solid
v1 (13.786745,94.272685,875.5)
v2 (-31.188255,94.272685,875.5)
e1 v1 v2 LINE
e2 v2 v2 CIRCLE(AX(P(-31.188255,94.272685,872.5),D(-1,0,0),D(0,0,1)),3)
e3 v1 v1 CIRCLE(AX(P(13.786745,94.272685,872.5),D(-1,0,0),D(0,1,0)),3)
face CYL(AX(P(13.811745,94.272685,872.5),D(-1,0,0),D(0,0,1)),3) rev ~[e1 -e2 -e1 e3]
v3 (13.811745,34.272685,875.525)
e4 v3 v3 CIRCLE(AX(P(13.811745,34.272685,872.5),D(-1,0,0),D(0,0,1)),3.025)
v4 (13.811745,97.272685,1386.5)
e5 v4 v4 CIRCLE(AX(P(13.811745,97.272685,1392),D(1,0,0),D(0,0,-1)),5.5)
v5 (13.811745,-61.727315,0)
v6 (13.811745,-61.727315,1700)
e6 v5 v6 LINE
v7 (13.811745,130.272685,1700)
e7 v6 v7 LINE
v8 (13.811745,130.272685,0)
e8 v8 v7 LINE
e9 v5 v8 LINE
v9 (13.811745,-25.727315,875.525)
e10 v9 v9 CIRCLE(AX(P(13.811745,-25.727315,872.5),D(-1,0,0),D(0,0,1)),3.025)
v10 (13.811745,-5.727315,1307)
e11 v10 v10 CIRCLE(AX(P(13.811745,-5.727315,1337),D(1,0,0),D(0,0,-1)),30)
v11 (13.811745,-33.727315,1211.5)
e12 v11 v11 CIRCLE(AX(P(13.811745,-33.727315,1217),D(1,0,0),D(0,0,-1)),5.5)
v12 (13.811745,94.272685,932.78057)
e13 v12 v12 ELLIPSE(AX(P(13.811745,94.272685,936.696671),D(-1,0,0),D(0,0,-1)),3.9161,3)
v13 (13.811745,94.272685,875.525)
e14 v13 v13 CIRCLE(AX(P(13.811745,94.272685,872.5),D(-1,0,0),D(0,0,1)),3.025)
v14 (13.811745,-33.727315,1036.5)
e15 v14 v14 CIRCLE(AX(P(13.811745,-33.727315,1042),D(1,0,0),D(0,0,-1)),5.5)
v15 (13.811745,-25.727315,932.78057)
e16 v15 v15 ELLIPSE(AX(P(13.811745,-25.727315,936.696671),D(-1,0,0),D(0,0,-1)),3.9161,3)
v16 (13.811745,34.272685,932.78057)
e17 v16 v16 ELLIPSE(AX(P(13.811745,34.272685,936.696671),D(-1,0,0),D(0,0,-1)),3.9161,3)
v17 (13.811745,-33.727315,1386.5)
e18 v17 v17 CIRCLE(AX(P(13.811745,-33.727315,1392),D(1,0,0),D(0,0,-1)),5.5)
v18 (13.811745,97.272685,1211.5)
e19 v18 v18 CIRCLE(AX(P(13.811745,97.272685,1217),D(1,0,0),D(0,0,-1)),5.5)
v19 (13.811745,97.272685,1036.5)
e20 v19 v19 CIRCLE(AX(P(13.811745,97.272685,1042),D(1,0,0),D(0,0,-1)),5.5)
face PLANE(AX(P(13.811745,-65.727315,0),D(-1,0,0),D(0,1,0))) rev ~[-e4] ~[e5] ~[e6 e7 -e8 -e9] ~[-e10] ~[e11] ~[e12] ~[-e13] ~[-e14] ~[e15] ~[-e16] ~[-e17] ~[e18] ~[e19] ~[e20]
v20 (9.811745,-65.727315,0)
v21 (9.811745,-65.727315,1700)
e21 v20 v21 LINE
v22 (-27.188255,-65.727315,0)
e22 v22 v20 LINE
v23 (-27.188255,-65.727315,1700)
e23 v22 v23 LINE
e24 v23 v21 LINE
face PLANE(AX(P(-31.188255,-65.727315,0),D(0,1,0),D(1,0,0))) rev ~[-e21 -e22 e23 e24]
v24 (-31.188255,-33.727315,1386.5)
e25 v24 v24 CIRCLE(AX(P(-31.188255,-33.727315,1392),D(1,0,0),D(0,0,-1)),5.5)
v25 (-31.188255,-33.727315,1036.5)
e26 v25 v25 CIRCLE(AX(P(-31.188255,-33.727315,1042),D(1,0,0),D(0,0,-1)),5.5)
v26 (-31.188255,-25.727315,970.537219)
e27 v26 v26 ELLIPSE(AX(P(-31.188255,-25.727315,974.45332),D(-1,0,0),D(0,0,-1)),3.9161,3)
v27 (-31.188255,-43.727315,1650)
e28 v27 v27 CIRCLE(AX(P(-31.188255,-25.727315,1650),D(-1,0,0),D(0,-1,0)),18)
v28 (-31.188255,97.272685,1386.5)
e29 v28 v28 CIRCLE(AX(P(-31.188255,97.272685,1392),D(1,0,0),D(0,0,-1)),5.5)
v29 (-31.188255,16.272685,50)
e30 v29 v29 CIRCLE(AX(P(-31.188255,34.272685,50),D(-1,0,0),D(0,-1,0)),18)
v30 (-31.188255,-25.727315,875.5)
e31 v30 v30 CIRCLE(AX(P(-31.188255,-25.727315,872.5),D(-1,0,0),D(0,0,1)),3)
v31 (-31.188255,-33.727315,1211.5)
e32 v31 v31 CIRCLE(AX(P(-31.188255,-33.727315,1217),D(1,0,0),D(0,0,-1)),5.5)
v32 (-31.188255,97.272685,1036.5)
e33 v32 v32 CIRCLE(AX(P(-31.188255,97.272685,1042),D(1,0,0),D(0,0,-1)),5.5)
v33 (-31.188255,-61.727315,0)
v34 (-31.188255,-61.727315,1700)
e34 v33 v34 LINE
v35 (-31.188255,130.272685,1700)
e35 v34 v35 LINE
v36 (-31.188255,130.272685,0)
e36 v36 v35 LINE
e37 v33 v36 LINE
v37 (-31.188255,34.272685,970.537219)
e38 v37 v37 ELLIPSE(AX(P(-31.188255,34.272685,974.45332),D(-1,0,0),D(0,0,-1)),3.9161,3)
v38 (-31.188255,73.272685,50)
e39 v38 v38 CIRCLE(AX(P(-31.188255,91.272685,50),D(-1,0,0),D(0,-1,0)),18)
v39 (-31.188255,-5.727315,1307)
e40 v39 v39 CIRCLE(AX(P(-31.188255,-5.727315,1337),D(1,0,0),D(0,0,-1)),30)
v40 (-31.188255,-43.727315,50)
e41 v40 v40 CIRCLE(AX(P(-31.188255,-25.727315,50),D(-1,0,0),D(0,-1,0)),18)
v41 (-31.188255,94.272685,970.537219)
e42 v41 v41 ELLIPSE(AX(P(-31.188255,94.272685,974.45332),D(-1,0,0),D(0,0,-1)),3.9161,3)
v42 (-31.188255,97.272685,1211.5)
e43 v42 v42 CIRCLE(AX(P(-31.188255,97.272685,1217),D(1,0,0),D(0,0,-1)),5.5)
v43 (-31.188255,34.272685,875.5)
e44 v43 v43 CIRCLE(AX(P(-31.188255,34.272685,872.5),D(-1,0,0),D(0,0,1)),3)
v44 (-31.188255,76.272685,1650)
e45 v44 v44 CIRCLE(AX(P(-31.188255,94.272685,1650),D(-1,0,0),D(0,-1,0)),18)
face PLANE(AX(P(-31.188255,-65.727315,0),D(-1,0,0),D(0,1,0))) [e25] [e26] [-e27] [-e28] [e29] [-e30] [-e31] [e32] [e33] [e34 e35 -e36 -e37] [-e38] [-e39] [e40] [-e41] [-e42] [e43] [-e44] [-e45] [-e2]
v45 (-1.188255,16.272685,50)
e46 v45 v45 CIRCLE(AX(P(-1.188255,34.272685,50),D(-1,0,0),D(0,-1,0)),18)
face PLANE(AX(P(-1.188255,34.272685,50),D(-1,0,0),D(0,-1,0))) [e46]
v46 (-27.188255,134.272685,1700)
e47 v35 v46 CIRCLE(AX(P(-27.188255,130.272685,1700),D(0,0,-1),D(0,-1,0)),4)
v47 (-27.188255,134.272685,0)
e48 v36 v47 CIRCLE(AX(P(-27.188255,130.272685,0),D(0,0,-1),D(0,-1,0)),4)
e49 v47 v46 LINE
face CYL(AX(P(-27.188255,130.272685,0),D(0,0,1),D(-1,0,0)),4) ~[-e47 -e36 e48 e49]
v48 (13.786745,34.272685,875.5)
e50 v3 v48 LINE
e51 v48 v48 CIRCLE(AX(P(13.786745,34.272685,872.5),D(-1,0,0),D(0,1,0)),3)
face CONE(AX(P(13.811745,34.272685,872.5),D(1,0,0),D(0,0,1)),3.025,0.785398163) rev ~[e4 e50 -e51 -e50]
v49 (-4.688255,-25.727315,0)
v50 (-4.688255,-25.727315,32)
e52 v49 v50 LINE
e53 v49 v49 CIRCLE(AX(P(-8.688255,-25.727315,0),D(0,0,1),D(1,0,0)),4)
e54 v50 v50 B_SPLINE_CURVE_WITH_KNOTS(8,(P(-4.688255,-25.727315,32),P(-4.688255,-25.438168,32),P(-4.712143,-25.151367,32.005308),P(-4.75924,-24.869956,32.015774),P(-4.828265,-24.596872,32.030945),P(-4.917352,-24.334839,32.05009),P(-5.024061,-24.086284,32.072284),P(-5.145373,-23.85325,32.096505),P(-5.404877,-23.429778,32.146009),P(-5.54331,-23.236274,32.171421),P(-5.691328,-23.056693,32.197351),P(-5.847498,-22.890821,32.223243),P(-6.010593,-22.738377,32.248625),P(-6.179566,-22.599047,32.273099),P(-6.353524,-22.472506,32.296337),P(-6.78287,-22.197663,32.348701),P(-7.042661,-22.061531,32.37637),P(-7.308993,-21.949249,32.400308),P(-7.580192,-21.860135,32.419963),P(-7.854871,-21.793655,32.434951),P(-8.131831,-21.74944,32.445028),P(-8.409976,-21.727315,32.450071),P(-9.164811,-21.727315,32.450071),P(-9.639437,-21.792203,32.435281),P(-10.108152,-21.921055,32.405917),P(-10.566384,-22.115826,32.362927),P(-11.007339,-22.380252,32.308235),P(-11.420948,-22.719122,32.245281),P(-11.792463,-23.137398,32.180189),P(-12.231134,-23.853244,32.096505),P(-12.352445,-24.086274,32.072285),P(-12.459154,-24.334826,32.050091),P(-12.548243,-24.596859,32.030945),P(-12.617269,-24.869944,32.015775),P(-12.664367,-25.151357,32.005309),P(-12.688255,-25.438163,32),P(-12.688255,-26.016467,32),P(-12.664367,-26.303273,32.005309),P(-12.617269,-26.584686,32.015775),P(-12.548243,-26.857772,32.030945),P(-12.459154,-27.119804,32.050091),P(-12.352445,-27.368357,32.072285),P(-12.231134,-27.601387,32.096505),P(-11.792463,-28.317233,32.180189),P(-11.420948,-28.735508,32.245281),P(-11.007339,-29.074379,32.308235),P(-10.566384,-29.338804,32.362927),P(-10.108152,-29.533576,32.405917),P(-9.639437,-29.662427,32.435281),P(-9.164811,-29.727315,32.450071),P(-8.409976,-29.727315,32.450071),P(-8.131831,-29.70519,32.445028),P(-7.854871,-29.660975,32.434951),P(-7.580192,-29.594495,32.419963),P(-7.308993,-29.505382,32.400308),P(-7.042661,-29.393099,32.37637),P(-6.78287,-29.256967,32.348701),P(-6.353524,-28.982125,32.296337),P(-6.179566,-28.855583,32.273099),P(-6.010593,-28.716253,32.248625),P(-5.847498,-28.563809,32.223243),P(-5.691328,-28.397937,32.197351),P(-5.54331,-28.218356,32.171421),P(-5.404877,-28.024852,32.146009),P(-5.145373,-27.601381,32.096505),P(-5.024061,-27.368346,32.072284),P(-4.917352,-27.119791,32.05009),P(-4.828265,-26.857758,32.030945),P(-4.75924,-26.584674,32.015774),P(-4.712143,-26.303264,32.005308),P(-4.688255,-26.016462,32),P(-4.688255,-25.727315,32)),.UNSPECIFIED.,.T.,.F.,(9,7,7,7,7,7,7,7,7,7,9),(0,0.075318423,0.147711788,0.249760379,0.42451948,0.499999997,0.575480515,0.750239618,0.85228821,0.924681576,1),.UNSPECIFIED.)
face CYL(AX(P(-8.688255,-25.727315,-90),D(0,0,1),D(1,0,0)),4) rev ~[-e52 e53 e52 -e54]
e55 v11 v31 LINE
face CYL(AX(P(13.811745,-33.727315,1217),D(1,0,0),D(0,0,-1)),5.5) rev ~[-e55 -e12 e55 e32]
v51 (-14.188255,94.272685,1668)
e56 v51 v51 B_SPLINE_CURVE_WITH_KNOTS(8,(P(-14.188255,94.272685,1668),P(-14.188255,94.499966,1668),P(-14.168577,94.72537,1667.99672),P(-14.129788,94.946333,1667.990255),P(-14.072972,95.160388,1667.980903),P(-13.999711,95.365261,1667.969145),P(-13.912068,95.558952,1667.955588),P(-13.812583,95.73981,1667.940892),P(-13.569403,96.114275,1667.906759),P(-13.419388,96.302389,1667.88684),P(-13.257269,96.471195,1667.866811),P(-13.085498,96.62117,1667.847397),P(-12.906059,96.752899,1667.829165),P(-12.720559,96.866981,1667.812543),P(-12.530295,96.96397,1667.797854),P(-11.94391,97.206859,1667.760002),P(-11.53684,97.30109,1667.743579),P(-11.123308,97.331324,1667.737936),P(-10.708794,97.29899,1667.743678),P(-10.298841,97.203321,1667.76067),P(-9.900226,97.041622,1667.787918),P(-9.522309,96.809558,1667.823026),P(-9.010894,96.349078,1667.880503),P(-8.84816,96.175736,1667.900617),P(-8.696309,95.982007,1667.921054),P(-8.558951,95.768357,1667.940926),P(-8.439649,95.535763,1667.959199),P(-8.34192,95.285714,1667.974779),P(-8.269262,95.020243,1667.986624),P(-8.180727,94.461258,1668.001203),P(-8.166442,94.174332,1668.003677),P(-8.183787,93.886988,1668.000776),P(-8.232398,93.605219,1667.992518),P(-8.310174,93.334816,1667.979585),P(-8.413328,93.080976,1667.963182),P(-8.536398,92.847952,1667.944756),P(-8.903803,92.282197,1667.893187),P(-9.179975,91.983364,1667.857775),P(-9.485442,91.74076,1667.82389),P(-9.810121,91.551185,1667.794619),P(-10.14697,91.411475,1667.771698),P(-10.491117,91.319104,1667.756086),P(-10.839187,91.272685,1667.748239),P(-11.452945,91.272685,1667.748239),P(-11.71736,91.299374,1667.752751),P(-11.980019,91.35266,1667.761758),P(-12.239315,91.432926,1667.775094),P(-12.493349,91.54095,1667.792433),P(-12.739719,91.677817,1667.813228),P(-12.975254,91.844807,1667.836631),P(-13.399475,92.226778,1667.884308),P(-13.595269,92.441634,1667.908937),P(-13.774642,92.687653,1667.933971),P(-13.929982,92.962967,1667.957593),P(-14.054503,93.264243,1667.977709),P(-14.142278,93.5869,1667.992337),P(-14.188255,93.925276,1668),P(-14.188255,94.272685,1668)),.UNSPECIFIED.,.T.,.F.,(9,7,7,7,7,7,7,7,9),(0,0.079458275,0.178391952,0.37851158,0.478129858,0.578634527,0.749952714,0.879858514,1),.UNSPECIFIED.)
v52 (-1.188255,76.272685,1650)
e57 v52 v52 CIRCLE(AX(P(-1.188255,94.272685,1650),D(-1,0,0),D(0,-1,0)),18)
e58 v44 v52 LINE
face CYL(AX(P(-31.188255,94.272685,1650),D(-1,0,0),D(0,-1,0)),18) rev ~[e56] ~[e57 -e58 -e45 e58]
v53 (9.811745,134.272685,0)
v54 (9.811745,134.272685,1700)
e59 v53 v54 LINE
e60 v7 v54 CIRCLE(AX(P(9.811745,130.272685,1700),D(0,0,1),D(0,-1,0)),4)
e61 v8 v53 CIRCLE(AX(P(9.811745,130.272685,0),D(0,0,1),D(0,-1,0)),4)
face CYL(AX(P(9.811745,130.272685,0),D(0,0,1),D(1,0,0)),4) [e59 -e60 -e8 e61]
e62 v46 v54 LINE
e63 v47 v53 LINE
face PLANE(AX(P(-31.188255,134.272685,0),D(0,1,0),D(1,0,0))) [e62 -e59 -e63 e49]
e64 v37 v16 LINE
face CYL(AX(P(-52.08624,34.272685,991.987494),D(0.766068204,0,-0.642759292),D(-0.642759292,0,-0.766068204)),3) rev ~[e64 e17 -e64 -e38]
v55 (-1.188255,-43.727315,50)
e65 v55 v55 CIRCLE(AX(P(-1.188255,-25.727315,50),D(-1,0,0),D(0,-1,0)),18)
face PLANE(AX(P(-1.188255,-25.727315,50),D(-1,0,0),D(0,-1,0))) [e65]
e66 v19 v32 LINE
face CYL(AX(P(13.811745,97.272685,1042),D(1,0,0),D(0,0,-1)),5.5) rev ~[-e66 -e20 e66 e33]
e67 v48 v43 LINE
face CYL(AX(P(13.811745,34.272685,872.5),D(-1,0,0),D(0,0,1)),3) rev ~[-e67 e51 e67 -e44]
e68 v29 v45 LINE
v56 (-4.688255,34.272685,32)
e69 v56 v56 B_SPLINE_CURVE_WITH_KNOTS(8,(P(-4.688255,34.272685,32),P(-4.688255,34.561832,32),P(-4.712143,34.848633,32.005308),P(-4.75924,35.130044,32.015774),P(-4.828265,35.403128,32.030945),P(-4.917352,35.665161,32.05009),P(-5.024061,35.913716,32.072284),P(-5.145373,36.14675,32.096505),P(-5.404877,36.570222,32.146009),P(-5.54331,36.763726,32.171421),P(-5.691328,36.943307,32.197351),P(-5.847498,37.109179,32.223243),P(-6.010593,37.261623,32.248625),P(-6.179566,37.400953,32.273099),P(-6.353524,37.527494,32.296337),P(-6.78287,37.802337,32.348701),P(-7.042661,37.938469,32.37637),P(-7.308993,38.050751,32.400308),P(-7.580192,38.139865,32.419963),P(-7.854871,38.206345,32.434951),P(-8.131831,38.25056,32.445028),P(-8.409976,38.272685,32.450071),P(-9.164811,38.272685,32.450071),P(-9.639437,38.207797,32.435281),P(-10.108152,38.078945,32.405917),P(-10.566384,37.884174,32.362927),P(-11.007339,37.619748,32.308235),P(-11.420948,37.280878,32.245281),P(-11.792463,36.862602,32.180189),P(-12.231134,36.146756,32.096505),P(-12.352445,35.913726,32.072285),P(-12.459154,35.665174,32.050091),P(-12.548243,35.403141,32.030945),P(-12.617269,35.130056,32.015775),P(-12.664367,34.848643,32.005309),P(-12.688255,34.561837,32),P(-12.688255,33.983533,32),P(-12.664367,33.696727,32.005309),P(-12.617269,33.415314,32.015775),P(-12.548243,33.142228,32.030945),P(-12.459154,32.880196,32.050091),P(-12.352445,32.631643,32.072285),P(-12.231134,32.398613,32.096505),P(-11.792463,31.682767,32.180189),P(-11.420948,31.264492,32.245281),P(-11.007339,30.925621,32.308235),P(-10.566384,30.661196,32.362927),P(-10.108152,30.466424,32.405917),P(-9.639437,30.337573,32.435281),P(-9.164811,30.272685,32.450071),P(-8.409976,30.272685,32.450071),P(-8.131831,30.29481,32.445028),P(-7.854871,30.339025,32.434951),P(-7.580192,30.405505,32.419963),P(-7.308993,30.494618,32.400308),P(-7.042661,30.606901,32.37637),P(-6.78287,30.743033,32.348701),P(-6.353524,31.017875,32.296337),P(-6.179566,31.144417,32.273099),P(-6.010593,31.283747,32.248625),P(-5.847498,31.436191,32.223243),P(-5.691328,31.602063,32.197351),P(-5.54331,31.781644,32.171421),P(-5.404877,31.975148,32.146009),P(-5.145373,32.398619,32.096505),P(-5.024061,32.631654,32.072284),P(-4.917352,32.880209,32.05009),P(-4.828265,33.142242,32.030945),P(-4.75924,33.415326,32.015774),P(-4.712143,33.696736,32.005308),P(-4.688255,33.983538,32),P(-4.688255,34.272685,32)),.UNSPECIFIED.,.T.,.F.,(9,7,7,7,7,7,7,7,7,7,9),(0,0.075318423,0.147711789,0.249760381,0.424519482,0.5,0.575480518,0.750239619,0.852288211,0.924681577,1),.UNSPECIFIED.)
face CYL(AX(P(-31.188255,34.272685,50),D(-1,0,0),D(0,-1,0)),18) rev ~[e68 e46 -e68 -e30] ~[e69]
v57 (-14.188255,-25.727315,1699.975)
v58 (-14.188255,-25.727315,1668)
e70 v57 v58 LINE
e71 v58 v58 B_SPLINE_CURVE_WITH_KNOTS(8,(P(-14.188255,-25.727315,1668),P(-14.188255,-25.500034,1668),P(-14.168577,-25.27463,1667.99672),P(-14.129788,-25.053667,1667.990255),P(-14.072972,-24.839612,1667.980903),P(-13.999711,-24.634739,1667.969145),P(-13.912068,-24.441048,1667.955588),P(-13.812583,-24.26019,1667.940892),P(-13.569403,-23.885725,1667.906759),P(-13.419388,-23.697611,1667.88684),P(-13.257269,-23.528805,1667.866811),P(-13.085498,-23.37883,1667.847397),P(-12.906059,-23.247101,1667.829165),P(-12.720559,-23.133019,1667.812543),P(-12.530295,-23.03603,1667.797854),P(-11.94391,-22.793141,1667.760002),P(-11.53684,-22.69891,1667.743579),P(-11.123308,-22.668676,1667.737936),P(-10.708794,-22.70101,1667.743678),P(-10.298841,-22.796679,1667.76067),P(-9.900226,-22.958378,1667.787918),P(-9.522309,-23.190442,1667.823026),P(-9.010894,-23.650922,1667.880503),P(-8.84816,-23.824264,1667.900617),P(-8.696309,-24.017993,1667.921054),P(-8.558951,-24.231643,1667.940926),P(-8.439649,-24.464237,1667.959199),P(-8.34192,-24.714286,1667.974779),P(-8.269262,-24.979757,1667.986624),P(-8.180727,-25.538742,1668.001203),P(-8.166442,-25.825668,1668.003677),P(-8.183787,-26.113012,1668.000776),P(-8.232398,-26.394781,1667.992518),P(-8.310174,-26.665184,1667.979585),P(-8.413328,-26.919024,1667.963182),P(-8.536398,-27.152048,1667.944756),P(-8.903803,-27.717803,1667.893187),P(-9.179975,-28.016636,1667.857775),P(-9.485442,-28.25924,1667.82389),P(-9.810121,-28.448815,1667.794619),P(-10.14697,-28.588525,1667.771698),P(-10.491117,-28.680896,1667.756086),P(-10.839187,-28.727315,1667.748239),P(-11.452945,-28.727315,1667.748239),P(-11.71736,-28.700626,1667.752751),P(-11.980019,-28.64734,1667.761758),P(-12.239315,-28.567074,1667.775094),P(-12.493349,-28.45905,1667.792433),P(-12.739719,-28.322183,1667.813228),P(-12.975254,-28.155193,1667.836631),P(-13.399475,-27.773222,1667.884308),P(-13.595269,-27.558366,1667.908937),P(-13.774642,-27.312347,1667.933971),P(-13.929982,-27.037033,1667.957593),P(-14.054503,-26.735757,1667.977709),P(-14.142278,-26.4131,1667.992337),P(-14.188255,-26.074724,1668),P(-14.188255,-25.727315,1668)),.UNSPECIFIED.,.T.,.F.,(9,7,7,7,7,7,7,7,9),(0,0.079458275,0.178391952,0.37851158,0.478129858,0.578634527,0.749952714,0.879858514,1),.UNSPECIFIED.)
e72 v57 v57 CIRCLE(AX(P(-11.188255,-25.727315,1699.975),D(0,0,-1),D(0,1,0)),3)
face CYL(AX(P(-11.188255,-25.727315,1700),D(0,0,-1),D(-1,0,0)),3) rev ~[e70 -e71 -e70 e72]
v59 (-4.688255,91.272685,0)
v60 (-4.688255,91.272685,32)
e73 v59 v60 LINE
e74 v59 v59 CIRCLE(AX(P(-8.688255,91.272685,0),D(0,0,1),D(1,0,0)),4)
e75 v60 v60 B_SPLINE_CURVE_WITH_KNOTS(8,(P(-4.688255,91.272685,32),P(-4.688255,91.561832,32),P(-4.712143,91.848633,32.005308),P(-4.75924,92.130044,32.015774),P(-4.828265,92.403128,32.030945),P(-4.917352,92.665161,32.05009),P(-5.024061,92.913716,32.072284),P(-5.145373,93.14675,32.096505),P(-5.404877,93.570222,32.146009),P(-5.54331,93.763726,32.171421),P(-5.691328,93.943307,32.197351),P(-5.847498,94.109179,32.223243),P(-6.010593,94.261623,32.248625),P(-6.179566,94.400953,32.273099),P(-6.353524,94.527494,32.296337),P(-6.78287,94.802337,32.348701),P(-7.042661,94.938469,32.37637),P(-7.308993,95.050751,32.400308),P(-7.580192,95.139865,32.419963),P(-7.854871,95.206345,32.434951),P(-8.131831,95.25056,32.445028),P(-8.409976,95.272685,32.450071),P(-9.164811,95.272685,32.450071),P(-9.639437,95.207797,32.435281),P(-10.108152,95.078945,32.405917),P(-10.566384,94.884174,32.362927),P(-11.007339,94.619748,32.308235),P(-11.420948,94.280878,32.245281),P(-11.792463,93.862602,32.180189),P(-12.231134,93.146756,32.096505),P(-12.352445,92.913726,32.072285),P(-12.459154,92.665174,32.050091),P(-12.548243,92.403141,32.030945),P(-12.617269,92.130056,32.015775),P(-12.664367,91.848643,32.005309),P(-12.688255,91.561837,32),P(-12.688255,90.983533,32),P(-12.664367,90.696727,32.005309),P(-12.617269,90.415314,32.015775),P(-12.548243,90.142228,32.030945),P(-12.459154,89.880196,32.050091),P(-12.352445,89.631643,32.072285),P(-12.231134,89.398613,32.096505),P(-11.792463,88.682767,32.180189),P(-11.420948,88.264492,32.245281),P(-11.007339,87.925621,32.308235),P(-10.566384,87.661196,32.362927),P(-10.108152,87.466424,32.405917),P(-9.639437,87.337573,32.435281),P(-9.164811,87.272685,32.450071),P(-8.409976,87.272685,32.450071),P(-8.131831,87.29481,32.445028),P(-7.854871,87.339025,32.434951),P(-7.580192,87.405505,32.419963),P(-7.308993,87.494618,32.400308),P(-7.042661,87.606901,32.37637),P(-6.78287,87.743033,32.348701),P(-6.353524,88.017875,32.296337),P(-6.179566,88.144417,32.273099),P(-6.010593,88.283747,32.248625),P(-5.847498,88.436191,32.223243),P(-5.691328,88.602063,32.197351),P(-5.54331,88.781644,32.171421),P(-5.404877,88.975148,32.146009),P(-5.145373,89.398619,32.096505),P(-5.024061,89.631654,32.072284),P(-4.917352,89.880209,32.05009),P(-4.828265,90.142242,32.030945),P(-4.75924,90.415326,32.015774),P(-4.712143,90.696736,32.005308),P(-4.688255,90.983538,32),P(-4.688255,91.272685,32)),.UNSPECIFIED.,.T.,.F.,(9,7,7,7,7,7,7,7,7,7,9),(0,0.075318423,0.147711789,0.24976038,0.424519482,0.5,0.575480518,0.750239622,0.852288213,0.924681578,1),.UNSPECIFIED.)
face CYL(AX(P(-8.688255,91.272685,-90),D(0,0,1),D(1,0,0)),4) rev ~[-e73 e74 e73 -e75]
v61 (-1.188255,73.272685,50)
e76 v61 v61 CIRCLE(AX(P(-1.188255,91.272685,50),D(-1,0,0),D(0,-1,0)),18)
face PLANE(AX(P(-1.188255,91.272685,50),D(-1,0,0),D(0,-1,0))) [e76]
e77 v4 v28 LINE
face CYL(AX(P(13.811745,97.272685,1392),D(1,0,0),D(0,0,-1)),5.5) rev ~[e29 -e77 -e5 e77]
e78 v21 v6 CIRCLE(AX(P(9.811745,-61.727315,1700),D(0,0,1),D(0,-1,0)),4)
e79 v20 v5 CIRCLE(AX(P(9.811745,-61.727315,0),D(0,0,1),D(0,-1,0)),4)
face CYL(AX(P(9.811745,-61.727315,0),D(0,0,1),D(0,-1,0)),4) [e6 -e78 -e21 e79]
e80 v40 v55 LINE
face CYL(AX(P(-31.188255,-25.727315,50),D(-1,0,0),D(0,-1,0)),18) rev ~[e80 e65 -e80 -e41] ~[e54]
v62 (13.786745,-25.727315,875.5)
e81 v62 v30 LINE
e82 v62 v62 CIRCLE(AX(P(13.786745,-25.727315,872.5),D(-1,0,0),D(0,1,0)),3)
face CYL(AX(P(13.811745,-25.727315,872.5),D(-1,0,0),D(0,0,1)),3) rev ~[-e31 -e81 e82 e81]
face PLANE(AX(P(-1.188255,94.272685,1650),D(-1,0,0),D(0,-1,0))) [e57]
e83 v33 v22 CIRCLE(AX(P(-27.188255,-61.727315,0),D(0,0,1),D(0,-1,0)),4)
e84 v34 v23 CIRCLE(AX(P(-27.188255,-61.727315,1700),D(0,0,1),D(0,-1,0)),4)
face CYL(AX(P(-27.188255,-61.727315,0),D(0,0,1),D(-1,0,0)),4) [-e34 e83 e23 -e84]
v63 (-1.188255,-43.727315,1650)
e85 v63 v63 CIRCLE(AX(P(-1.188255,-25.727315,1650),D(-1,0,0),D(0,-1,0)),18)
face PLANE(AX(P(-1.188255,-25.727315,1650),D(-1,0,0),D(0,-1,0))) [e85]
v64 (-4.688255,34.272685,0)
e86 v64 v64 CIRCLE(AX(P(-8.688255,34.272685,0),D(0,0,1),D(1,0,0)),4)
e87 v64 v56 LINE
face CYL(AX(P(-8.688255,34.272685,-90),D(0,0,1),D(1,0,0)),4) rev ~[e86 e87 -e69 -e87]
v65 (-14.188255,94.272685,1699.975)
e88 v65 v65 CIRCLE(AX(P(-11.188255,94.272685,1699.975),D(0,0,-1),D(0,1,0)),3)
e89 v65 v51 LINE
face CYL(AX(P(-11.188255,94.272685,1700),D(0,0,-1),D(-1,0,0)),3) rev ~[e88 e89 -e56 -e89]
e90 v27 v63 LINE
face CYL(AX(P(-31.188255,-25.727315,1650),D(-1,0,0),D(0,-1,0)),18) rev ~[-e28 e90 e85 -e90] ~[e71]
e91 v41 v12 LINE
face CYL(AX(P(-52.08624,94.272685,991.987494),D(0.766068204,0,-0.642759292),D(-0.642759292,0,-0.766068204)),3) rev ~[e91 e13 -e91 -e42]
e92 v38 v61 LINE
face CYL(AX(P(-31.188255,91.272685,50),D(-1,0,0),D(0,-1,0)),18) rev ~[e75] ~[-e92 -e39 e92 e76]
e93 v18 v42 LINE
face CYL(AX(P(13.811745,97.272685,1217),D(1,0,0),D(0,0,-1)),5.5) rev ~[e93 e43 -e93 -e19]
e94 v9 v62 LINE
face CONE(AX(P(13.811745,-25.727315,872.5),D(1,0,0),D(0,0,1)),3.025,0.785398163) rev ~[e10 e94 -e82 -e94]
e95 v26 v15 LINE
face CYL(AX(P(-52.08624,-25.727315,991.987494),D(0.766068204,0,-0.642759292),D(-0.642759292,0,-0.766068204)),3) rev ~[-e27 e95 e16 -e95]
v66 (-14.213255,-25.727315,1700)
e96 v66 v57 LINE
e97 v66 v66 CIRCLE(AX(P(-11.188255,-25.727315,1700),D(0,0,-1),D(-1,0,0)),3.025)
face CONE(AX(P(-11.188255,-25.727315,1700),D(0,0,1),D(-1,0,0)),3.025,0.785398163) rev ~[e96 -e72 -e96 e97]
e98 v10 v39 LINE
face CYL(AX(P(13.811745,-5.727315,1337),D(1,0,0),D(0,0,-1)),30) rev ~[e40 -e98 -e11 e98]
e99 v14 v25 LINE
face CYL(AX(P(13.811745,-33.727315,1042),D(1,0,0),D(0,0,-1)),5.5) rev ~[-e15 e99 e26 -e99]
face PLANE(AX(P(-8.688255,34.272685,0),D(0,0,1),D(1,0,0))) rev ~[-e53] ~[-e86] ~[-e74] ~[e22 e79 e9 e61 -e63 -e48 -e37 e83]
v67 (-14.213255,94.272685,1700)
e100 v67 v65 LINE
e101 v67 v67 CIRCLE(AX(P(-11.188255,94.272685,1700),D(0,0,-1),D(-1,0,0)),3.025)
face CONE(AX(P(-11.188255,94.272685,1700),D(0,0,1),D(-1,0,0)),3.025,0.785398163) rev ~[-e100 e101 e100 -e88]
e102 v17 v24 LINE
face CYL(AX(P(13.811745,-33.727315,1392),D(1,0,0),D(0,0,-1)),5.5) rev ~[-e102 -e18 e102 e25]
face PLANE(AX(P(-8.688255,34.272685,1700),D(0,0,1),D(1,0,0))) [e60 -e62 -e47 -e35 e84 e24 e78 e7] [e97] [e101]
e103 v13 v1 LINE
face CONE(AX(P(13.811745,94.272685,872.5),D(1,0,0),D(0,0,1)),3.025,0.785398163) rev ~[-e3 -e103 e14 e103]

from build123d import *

# Parameters (mm, degrees)
SKETCH1_W                       = 45
SKETCH1_H                       = 200
BOSS_EXTRUDE1_DEPTH             = 1700
FILLET1_R                       = 4
SKETCH9_R                       = 30
CUT_EXTRUDE1_DEPTH              = 50
SKETCH10_R                      = 5.5
CUT_EXTRUDE2_DEPTH              = 50
SKETCH11_R                      = 5.5
CUT_EXTRUDE3_DEPTH              = 50
SKETCH12_R                      = 5.5
CUT_EXTRUDE4_DEPTH              = 50
SKETCH13_R                      = 5.5
CUT_EXTRUDE5_DEPTH              = 50
SKETCH14_R                      = 5.5
CUT_EXTRUDE6_DEPTH              = 50
SKETCH15_R                      = 5.5
CUT_EXTRUDE7_DEPTH              = 50
SKETCH16_R                      = 18
CUT_EXTRUDE8_DEPTH              = 30
F_6_0MM_DOWEL_SLOT_D            = 6
F_6_0MM_DOWEL_SLOT_DEPTH        = 128.197418143
F_6_0MM_DOWEL_SLOT_CSINK_D      = 6.05
F_6_0MM_DOWEL_SLOT_CSINK_ANGLE  = 90
F_6_0MM_DOWEL_SLOT_TIP          = 1.802581857
F_6_0MM_DOWEL_SLOT1_D           = 6
F_6_0MM_DOWEL_SLOT1_DEPTH       = 63.197418143
F_6_0MM_DOWEL_SLOT1_CSINK_D     = 6.05
F_6_0MM_DOWEL_SLOT1_CSINK_ANGLE = 90
F_6_0MM_DOWEL_SLOT1_TIP         = 1.802581857
SKETCH25_R                      = 18
CUT_EXTRUDE9_DEPTH              = 30
F_6_0MM_DOWEL_SLOT2_D           = 6
F_6_0MM_DOWEL_SLOT2_DEPTH       = 48.197418143
F_6_0MM_DOWEL_SLOT2_CSINK_D     = 6.05
F_6_0MM_DOWEL_SLOT2_CSINK_ANGLE = 90
F_6_0MM_DOWEL_SLOT2_TIP         = 1.802581857
F_8_0MM_DOWEL_SLOT4_D           = 8
F_8_0MM_DOWEL_SLOT4_DEPTH       = 137.596557524
F_8_0MM_DOWEL_SLOT4_CSINK_D     = 8.05
F_8_0MM_DOWEL_SLOT4_CSINK_ANGLE = 90
F_8_0MM_DOWEL_SLOT4_TIP         = 2.403442476


with BuildPart() as part:
    # Sketch1 → Boss-Extrude1 (new body)
    with BuildSketch(Plane.XY):
        with Locations((-8.688255411, 34.272684877)):
            Rectangle(SKETCH1_W, SKETCH1_H)
    extrude(amount=BOSS_EXTRUDE1_DEPTH)

    # Fillet1
    fillet1_edges = [part.edges().sort_by_distance(p)[0] for p in [
        (13.811744589, 134.272684877, 850),
        (13.811744589, -65.727315123, 850),
        (-31.188255411, -65.727315123, 850),
        (-31.188255411, 134.272684877, 850),
    ]]
    fillet(fillet1_edges, radius=FILLET1_R)

    # Sketch9 → Cut-Extrude1 (cut)
    with BuildSketch(Plane(origin=(13.811744589, 0, 0), x_dir=(0, 0, -1), z_dir=(1, 0, 0))):
        with Locations((-1337, -5.727315122)):
            Circle(SKETCH9_R)
    extrude(amount=-CUT_EXTRUDE1_DEPTH, mode=Mode.SUBTRACT)

    # Sketch10 → Cut-Extrude2 (cut)
    with BuildSketch(Plane(origin=(13.811744589, 0, 0), x_dir=(0, 0, -1), z_dir=(1, 0, 0))):
        with Locations((-1392, 97.272684878)):
            Circle(SKETCH10_R)
    extrude(amount=-CUT_EXTRUDE2_DEPTH, mode=Mode.SUBTRACT)

    # Sketch11 → Cut-Extrude3 (cut)
    with BuildSketch(Plane(origin=(13.811744589, 0, 0), x_dir=(0, 0, -1), z_dir=(1, 0, 0))):
        with Locations((-1392, -33.727315122)):
            Circle(SKETCH11_R)
    extrude(amount=-CUT_EXTRUDE3_DEPTH, mode=Mode.SUBTRACT)

    # Sketch12 → Cut-Extrude4 (cut)
    with BuildSketch(Plane(origin=(13.811744589, 0, 0), x_dir=(0, 0, -1), z_dir=(1, 0, 0))):
        with Locations((-1217, 97.272684878)):
            Circle(SKETCH12_R)
    extrude(amount=-CUT_EXTRUDE4_DEPTH, mode=Mode.SUBTRACT)

    # Sketch13 → Cut-Extrude5 (cut)
    with BuildSketch(Plane(origin=(13.811744589, 0, 0), x_dir=(0, 0, -1), z_dir=(1, 0, 0))):
        with Locations((-1217, -33.727315122)):
            Circle(SKETCH13_R)
    extrude(amount=-CUT_EXTRUDE5_DEPTH, mode=Mode.SUBTRACT)

    # Sketch14 → Cut-Extrude6 (cut)
    with BuildSketch(Plane(origin=(13.811744589, 0, 0), x_dir=(0, 0, -1), z_dir=(1, 0, 0))):
        with Locations((-1042, -33.727315122)):
            Circle(SKETCH14_R)
    extrude(amount=-CUT_EXTRUDE6_DEPTH, mode=Mode.SUBTRACT)

    # Sketch15 → Cut-Extrude7 (cut)
    with BuildSketch(Plane(origin=(13.811744589, 0, 0), x_dir=(0, 0, -1), z_dir=(1, 0, 0))):
        with Locations((-1042, 97.272684878)):
            Circle(SKETCH15_R)
    extrude(amount=-CUT_EXTRUDE7_DEPTH, mode=Mode.SUBTRACT)

    # Sketch16 → Cut-Extrude8 (cut)
    with BuildSketch(Plane.ZY.offset(31.188255411)):
        with Locations(Location((50, -25.727315123, 0), (0, 0, 270))):
            Circle(SKETCH16_R)
        with Locations(Location((50, 34.272684877, 0), (0, 0, 270))):
            Circle(SKETCH16_R)
        with Locations(Location((50, 91.272684877, 0), (0, 0, 270))):
            Circle(SKETCH16_R)
    extrude(amount=-CUT_EXTRUDE8_DEPTH, mode=Mode.SUBTRACT)

    # Ø6.0mm Dowel Slot
    with Locations(Plane(origin=(-854.153391206, -65.727315123, 36.0493232), x_dir=(0.6427592920058945, 7.226860248094423e-15, 0.7660682035824756), z_dir=(-0.7660682035824756, -8.613283256507993e-15, 0.6427592920058945))):
        with Locations((1247.849951753, 160), (1247.849951753, 100), (1247.849951753, 40)):
            CounterSinkHole(F_6_0MM_DOWEL_SLOT_D / 2, F_6_0MM_DOWEL_SLOT_CSINK_D / 2, depth=F_6_0MM_DOWEL_SLOT_DEPTH, counter_sink_angle=F_6_0MM_DOWEL_SLOT_CSINK_ANGLE)
            with Locations((0, 0, -(F_6_0MM_DOWEL_SLOT_DEPTH + F_6_0MM_DOWEL_SLOT_TIP / 2))):  # 118° drill point
                Cone(0, F_6_0MM_DOWEL_SLOT_D / 2, F_6_0MM_DOWEL_SLOT_TIP, mode=Mode.SUBTRACT)

    # Ø6.0mm Dowel Slot1
    with Locations(Plane(origin=(13.811744589, -65.727315123, 0), x_dir=(0, 0, -1), z_dir=(1, 0, 0))):
        with Locations((-872.5, 160), (-872.5, 100), (-872.5, 40)):
            CounterSinkHole(F_6_0MM_DOWEL_SLOT1_D / 2, F_6_0MM_DOWEL_SLOT1_CSINK_D / 2, depth=F_6_0MM_DOWEL_SLOT1_DEPTH, counter_sink_angle=F_6_0MM_DOWEL_SLOT1_CSINK_ANGLE)
            with Locations((0, 0, -(F_6_0MM_DOWEL_SLOT1_DEPTH + F_6_0MM_DOWEL_SLOT1_TIP / 2))):  # 118° drill point
                Cone(0, F_6_0MM_DOWEL_SLOT1_D / 2, F_6_0MM_DOWEL_SLOT1_TIP, mode=Mode.SUBTRACT)

    # Sketch25 → Cut-Extrude9 (cut)
    with BuildSketch(Plane.ZY.offset(31.188255411)):
        with Locations(Location((1650, 94.272684877, 0), (0, 0, 270))):
            Circle(SKETCH25_R)
        with Locations(Location((1650, -25.727315123, 0), (0, 0, 270))):
            Circle(SKETCH25_R)
    extrude(amount=-CUT_EXTRUDE9_DEPTH, mode=Mode.SUBTRACT)

    # Ø6.0mm Dowel Slot2
    with Locations(Plane(origin=(-811.188255411, -65.727315123, 1700), x_dir=(1, 0, 0), z_dir=(0, 0, 1))):
        with Locations((25, 160), (25, 40), (800, 160), (800, 40)):
            CounterSinkHole(F_6_0MM_DOWEL_SLOT2_D / 2, F_6_0MM_DOWEL_SLOT2_CSINK_D / 2, depth=F_6_0MM_DOWEL_SLOT2_DEPTH, counter_sink_angle=F_6_0MM_DOWEL_SLOT2_CSINK_ANGLE)
            with Locations((0, 0, -(F_6_0MM_DOWEL_SLOT2_DEPTH + F_6_0MM_DOWEL_SLOT2_TIP / 2))):  # 118° drill point
                Cone(0, F_6_0MM_DOWEL_SLOT2_D / 2, F_6_0MM_DOWEL_SLOT2_TIP, mode=Mode.SUBTRACT)

    # Ø8.0mm Dowel Slot4
    with Locations(Plane(origin=(-811.188255411, -65.727315123, -90), x_dir=(-1, 0, 0), z_dir=(0, 0, -1))):
        with Locations((-802.5, 40), (-802.5, 100), (-802.5, 157)):
            CounterSinkHole(F_8_0MM_DOWEL_SLOT4_D / 2, F_8_0MM_DOWEL_SLOT4_CSINK_D / 2, depth=F_8_0MM_DOWEL_SLOT4_DEPTH, counter_sink_angle=F_8_0MM_DOWEL_SLOT4_CSINK_ANGLE)
            with Locations((0, 0, -(F_8_0MM_DOWEL_SLOT4_DEPTH + F_8_0MM_DOWEL_SLOT4_TIP / 2))):  # 118° drill point
                Cone(0, F_8_0MM_DOWEL_SLOT4_D / 2, F_8_0MM_DOWEL_SLOT4_TIP, mode=Mode.SUBTRACT)


solid = part.part
